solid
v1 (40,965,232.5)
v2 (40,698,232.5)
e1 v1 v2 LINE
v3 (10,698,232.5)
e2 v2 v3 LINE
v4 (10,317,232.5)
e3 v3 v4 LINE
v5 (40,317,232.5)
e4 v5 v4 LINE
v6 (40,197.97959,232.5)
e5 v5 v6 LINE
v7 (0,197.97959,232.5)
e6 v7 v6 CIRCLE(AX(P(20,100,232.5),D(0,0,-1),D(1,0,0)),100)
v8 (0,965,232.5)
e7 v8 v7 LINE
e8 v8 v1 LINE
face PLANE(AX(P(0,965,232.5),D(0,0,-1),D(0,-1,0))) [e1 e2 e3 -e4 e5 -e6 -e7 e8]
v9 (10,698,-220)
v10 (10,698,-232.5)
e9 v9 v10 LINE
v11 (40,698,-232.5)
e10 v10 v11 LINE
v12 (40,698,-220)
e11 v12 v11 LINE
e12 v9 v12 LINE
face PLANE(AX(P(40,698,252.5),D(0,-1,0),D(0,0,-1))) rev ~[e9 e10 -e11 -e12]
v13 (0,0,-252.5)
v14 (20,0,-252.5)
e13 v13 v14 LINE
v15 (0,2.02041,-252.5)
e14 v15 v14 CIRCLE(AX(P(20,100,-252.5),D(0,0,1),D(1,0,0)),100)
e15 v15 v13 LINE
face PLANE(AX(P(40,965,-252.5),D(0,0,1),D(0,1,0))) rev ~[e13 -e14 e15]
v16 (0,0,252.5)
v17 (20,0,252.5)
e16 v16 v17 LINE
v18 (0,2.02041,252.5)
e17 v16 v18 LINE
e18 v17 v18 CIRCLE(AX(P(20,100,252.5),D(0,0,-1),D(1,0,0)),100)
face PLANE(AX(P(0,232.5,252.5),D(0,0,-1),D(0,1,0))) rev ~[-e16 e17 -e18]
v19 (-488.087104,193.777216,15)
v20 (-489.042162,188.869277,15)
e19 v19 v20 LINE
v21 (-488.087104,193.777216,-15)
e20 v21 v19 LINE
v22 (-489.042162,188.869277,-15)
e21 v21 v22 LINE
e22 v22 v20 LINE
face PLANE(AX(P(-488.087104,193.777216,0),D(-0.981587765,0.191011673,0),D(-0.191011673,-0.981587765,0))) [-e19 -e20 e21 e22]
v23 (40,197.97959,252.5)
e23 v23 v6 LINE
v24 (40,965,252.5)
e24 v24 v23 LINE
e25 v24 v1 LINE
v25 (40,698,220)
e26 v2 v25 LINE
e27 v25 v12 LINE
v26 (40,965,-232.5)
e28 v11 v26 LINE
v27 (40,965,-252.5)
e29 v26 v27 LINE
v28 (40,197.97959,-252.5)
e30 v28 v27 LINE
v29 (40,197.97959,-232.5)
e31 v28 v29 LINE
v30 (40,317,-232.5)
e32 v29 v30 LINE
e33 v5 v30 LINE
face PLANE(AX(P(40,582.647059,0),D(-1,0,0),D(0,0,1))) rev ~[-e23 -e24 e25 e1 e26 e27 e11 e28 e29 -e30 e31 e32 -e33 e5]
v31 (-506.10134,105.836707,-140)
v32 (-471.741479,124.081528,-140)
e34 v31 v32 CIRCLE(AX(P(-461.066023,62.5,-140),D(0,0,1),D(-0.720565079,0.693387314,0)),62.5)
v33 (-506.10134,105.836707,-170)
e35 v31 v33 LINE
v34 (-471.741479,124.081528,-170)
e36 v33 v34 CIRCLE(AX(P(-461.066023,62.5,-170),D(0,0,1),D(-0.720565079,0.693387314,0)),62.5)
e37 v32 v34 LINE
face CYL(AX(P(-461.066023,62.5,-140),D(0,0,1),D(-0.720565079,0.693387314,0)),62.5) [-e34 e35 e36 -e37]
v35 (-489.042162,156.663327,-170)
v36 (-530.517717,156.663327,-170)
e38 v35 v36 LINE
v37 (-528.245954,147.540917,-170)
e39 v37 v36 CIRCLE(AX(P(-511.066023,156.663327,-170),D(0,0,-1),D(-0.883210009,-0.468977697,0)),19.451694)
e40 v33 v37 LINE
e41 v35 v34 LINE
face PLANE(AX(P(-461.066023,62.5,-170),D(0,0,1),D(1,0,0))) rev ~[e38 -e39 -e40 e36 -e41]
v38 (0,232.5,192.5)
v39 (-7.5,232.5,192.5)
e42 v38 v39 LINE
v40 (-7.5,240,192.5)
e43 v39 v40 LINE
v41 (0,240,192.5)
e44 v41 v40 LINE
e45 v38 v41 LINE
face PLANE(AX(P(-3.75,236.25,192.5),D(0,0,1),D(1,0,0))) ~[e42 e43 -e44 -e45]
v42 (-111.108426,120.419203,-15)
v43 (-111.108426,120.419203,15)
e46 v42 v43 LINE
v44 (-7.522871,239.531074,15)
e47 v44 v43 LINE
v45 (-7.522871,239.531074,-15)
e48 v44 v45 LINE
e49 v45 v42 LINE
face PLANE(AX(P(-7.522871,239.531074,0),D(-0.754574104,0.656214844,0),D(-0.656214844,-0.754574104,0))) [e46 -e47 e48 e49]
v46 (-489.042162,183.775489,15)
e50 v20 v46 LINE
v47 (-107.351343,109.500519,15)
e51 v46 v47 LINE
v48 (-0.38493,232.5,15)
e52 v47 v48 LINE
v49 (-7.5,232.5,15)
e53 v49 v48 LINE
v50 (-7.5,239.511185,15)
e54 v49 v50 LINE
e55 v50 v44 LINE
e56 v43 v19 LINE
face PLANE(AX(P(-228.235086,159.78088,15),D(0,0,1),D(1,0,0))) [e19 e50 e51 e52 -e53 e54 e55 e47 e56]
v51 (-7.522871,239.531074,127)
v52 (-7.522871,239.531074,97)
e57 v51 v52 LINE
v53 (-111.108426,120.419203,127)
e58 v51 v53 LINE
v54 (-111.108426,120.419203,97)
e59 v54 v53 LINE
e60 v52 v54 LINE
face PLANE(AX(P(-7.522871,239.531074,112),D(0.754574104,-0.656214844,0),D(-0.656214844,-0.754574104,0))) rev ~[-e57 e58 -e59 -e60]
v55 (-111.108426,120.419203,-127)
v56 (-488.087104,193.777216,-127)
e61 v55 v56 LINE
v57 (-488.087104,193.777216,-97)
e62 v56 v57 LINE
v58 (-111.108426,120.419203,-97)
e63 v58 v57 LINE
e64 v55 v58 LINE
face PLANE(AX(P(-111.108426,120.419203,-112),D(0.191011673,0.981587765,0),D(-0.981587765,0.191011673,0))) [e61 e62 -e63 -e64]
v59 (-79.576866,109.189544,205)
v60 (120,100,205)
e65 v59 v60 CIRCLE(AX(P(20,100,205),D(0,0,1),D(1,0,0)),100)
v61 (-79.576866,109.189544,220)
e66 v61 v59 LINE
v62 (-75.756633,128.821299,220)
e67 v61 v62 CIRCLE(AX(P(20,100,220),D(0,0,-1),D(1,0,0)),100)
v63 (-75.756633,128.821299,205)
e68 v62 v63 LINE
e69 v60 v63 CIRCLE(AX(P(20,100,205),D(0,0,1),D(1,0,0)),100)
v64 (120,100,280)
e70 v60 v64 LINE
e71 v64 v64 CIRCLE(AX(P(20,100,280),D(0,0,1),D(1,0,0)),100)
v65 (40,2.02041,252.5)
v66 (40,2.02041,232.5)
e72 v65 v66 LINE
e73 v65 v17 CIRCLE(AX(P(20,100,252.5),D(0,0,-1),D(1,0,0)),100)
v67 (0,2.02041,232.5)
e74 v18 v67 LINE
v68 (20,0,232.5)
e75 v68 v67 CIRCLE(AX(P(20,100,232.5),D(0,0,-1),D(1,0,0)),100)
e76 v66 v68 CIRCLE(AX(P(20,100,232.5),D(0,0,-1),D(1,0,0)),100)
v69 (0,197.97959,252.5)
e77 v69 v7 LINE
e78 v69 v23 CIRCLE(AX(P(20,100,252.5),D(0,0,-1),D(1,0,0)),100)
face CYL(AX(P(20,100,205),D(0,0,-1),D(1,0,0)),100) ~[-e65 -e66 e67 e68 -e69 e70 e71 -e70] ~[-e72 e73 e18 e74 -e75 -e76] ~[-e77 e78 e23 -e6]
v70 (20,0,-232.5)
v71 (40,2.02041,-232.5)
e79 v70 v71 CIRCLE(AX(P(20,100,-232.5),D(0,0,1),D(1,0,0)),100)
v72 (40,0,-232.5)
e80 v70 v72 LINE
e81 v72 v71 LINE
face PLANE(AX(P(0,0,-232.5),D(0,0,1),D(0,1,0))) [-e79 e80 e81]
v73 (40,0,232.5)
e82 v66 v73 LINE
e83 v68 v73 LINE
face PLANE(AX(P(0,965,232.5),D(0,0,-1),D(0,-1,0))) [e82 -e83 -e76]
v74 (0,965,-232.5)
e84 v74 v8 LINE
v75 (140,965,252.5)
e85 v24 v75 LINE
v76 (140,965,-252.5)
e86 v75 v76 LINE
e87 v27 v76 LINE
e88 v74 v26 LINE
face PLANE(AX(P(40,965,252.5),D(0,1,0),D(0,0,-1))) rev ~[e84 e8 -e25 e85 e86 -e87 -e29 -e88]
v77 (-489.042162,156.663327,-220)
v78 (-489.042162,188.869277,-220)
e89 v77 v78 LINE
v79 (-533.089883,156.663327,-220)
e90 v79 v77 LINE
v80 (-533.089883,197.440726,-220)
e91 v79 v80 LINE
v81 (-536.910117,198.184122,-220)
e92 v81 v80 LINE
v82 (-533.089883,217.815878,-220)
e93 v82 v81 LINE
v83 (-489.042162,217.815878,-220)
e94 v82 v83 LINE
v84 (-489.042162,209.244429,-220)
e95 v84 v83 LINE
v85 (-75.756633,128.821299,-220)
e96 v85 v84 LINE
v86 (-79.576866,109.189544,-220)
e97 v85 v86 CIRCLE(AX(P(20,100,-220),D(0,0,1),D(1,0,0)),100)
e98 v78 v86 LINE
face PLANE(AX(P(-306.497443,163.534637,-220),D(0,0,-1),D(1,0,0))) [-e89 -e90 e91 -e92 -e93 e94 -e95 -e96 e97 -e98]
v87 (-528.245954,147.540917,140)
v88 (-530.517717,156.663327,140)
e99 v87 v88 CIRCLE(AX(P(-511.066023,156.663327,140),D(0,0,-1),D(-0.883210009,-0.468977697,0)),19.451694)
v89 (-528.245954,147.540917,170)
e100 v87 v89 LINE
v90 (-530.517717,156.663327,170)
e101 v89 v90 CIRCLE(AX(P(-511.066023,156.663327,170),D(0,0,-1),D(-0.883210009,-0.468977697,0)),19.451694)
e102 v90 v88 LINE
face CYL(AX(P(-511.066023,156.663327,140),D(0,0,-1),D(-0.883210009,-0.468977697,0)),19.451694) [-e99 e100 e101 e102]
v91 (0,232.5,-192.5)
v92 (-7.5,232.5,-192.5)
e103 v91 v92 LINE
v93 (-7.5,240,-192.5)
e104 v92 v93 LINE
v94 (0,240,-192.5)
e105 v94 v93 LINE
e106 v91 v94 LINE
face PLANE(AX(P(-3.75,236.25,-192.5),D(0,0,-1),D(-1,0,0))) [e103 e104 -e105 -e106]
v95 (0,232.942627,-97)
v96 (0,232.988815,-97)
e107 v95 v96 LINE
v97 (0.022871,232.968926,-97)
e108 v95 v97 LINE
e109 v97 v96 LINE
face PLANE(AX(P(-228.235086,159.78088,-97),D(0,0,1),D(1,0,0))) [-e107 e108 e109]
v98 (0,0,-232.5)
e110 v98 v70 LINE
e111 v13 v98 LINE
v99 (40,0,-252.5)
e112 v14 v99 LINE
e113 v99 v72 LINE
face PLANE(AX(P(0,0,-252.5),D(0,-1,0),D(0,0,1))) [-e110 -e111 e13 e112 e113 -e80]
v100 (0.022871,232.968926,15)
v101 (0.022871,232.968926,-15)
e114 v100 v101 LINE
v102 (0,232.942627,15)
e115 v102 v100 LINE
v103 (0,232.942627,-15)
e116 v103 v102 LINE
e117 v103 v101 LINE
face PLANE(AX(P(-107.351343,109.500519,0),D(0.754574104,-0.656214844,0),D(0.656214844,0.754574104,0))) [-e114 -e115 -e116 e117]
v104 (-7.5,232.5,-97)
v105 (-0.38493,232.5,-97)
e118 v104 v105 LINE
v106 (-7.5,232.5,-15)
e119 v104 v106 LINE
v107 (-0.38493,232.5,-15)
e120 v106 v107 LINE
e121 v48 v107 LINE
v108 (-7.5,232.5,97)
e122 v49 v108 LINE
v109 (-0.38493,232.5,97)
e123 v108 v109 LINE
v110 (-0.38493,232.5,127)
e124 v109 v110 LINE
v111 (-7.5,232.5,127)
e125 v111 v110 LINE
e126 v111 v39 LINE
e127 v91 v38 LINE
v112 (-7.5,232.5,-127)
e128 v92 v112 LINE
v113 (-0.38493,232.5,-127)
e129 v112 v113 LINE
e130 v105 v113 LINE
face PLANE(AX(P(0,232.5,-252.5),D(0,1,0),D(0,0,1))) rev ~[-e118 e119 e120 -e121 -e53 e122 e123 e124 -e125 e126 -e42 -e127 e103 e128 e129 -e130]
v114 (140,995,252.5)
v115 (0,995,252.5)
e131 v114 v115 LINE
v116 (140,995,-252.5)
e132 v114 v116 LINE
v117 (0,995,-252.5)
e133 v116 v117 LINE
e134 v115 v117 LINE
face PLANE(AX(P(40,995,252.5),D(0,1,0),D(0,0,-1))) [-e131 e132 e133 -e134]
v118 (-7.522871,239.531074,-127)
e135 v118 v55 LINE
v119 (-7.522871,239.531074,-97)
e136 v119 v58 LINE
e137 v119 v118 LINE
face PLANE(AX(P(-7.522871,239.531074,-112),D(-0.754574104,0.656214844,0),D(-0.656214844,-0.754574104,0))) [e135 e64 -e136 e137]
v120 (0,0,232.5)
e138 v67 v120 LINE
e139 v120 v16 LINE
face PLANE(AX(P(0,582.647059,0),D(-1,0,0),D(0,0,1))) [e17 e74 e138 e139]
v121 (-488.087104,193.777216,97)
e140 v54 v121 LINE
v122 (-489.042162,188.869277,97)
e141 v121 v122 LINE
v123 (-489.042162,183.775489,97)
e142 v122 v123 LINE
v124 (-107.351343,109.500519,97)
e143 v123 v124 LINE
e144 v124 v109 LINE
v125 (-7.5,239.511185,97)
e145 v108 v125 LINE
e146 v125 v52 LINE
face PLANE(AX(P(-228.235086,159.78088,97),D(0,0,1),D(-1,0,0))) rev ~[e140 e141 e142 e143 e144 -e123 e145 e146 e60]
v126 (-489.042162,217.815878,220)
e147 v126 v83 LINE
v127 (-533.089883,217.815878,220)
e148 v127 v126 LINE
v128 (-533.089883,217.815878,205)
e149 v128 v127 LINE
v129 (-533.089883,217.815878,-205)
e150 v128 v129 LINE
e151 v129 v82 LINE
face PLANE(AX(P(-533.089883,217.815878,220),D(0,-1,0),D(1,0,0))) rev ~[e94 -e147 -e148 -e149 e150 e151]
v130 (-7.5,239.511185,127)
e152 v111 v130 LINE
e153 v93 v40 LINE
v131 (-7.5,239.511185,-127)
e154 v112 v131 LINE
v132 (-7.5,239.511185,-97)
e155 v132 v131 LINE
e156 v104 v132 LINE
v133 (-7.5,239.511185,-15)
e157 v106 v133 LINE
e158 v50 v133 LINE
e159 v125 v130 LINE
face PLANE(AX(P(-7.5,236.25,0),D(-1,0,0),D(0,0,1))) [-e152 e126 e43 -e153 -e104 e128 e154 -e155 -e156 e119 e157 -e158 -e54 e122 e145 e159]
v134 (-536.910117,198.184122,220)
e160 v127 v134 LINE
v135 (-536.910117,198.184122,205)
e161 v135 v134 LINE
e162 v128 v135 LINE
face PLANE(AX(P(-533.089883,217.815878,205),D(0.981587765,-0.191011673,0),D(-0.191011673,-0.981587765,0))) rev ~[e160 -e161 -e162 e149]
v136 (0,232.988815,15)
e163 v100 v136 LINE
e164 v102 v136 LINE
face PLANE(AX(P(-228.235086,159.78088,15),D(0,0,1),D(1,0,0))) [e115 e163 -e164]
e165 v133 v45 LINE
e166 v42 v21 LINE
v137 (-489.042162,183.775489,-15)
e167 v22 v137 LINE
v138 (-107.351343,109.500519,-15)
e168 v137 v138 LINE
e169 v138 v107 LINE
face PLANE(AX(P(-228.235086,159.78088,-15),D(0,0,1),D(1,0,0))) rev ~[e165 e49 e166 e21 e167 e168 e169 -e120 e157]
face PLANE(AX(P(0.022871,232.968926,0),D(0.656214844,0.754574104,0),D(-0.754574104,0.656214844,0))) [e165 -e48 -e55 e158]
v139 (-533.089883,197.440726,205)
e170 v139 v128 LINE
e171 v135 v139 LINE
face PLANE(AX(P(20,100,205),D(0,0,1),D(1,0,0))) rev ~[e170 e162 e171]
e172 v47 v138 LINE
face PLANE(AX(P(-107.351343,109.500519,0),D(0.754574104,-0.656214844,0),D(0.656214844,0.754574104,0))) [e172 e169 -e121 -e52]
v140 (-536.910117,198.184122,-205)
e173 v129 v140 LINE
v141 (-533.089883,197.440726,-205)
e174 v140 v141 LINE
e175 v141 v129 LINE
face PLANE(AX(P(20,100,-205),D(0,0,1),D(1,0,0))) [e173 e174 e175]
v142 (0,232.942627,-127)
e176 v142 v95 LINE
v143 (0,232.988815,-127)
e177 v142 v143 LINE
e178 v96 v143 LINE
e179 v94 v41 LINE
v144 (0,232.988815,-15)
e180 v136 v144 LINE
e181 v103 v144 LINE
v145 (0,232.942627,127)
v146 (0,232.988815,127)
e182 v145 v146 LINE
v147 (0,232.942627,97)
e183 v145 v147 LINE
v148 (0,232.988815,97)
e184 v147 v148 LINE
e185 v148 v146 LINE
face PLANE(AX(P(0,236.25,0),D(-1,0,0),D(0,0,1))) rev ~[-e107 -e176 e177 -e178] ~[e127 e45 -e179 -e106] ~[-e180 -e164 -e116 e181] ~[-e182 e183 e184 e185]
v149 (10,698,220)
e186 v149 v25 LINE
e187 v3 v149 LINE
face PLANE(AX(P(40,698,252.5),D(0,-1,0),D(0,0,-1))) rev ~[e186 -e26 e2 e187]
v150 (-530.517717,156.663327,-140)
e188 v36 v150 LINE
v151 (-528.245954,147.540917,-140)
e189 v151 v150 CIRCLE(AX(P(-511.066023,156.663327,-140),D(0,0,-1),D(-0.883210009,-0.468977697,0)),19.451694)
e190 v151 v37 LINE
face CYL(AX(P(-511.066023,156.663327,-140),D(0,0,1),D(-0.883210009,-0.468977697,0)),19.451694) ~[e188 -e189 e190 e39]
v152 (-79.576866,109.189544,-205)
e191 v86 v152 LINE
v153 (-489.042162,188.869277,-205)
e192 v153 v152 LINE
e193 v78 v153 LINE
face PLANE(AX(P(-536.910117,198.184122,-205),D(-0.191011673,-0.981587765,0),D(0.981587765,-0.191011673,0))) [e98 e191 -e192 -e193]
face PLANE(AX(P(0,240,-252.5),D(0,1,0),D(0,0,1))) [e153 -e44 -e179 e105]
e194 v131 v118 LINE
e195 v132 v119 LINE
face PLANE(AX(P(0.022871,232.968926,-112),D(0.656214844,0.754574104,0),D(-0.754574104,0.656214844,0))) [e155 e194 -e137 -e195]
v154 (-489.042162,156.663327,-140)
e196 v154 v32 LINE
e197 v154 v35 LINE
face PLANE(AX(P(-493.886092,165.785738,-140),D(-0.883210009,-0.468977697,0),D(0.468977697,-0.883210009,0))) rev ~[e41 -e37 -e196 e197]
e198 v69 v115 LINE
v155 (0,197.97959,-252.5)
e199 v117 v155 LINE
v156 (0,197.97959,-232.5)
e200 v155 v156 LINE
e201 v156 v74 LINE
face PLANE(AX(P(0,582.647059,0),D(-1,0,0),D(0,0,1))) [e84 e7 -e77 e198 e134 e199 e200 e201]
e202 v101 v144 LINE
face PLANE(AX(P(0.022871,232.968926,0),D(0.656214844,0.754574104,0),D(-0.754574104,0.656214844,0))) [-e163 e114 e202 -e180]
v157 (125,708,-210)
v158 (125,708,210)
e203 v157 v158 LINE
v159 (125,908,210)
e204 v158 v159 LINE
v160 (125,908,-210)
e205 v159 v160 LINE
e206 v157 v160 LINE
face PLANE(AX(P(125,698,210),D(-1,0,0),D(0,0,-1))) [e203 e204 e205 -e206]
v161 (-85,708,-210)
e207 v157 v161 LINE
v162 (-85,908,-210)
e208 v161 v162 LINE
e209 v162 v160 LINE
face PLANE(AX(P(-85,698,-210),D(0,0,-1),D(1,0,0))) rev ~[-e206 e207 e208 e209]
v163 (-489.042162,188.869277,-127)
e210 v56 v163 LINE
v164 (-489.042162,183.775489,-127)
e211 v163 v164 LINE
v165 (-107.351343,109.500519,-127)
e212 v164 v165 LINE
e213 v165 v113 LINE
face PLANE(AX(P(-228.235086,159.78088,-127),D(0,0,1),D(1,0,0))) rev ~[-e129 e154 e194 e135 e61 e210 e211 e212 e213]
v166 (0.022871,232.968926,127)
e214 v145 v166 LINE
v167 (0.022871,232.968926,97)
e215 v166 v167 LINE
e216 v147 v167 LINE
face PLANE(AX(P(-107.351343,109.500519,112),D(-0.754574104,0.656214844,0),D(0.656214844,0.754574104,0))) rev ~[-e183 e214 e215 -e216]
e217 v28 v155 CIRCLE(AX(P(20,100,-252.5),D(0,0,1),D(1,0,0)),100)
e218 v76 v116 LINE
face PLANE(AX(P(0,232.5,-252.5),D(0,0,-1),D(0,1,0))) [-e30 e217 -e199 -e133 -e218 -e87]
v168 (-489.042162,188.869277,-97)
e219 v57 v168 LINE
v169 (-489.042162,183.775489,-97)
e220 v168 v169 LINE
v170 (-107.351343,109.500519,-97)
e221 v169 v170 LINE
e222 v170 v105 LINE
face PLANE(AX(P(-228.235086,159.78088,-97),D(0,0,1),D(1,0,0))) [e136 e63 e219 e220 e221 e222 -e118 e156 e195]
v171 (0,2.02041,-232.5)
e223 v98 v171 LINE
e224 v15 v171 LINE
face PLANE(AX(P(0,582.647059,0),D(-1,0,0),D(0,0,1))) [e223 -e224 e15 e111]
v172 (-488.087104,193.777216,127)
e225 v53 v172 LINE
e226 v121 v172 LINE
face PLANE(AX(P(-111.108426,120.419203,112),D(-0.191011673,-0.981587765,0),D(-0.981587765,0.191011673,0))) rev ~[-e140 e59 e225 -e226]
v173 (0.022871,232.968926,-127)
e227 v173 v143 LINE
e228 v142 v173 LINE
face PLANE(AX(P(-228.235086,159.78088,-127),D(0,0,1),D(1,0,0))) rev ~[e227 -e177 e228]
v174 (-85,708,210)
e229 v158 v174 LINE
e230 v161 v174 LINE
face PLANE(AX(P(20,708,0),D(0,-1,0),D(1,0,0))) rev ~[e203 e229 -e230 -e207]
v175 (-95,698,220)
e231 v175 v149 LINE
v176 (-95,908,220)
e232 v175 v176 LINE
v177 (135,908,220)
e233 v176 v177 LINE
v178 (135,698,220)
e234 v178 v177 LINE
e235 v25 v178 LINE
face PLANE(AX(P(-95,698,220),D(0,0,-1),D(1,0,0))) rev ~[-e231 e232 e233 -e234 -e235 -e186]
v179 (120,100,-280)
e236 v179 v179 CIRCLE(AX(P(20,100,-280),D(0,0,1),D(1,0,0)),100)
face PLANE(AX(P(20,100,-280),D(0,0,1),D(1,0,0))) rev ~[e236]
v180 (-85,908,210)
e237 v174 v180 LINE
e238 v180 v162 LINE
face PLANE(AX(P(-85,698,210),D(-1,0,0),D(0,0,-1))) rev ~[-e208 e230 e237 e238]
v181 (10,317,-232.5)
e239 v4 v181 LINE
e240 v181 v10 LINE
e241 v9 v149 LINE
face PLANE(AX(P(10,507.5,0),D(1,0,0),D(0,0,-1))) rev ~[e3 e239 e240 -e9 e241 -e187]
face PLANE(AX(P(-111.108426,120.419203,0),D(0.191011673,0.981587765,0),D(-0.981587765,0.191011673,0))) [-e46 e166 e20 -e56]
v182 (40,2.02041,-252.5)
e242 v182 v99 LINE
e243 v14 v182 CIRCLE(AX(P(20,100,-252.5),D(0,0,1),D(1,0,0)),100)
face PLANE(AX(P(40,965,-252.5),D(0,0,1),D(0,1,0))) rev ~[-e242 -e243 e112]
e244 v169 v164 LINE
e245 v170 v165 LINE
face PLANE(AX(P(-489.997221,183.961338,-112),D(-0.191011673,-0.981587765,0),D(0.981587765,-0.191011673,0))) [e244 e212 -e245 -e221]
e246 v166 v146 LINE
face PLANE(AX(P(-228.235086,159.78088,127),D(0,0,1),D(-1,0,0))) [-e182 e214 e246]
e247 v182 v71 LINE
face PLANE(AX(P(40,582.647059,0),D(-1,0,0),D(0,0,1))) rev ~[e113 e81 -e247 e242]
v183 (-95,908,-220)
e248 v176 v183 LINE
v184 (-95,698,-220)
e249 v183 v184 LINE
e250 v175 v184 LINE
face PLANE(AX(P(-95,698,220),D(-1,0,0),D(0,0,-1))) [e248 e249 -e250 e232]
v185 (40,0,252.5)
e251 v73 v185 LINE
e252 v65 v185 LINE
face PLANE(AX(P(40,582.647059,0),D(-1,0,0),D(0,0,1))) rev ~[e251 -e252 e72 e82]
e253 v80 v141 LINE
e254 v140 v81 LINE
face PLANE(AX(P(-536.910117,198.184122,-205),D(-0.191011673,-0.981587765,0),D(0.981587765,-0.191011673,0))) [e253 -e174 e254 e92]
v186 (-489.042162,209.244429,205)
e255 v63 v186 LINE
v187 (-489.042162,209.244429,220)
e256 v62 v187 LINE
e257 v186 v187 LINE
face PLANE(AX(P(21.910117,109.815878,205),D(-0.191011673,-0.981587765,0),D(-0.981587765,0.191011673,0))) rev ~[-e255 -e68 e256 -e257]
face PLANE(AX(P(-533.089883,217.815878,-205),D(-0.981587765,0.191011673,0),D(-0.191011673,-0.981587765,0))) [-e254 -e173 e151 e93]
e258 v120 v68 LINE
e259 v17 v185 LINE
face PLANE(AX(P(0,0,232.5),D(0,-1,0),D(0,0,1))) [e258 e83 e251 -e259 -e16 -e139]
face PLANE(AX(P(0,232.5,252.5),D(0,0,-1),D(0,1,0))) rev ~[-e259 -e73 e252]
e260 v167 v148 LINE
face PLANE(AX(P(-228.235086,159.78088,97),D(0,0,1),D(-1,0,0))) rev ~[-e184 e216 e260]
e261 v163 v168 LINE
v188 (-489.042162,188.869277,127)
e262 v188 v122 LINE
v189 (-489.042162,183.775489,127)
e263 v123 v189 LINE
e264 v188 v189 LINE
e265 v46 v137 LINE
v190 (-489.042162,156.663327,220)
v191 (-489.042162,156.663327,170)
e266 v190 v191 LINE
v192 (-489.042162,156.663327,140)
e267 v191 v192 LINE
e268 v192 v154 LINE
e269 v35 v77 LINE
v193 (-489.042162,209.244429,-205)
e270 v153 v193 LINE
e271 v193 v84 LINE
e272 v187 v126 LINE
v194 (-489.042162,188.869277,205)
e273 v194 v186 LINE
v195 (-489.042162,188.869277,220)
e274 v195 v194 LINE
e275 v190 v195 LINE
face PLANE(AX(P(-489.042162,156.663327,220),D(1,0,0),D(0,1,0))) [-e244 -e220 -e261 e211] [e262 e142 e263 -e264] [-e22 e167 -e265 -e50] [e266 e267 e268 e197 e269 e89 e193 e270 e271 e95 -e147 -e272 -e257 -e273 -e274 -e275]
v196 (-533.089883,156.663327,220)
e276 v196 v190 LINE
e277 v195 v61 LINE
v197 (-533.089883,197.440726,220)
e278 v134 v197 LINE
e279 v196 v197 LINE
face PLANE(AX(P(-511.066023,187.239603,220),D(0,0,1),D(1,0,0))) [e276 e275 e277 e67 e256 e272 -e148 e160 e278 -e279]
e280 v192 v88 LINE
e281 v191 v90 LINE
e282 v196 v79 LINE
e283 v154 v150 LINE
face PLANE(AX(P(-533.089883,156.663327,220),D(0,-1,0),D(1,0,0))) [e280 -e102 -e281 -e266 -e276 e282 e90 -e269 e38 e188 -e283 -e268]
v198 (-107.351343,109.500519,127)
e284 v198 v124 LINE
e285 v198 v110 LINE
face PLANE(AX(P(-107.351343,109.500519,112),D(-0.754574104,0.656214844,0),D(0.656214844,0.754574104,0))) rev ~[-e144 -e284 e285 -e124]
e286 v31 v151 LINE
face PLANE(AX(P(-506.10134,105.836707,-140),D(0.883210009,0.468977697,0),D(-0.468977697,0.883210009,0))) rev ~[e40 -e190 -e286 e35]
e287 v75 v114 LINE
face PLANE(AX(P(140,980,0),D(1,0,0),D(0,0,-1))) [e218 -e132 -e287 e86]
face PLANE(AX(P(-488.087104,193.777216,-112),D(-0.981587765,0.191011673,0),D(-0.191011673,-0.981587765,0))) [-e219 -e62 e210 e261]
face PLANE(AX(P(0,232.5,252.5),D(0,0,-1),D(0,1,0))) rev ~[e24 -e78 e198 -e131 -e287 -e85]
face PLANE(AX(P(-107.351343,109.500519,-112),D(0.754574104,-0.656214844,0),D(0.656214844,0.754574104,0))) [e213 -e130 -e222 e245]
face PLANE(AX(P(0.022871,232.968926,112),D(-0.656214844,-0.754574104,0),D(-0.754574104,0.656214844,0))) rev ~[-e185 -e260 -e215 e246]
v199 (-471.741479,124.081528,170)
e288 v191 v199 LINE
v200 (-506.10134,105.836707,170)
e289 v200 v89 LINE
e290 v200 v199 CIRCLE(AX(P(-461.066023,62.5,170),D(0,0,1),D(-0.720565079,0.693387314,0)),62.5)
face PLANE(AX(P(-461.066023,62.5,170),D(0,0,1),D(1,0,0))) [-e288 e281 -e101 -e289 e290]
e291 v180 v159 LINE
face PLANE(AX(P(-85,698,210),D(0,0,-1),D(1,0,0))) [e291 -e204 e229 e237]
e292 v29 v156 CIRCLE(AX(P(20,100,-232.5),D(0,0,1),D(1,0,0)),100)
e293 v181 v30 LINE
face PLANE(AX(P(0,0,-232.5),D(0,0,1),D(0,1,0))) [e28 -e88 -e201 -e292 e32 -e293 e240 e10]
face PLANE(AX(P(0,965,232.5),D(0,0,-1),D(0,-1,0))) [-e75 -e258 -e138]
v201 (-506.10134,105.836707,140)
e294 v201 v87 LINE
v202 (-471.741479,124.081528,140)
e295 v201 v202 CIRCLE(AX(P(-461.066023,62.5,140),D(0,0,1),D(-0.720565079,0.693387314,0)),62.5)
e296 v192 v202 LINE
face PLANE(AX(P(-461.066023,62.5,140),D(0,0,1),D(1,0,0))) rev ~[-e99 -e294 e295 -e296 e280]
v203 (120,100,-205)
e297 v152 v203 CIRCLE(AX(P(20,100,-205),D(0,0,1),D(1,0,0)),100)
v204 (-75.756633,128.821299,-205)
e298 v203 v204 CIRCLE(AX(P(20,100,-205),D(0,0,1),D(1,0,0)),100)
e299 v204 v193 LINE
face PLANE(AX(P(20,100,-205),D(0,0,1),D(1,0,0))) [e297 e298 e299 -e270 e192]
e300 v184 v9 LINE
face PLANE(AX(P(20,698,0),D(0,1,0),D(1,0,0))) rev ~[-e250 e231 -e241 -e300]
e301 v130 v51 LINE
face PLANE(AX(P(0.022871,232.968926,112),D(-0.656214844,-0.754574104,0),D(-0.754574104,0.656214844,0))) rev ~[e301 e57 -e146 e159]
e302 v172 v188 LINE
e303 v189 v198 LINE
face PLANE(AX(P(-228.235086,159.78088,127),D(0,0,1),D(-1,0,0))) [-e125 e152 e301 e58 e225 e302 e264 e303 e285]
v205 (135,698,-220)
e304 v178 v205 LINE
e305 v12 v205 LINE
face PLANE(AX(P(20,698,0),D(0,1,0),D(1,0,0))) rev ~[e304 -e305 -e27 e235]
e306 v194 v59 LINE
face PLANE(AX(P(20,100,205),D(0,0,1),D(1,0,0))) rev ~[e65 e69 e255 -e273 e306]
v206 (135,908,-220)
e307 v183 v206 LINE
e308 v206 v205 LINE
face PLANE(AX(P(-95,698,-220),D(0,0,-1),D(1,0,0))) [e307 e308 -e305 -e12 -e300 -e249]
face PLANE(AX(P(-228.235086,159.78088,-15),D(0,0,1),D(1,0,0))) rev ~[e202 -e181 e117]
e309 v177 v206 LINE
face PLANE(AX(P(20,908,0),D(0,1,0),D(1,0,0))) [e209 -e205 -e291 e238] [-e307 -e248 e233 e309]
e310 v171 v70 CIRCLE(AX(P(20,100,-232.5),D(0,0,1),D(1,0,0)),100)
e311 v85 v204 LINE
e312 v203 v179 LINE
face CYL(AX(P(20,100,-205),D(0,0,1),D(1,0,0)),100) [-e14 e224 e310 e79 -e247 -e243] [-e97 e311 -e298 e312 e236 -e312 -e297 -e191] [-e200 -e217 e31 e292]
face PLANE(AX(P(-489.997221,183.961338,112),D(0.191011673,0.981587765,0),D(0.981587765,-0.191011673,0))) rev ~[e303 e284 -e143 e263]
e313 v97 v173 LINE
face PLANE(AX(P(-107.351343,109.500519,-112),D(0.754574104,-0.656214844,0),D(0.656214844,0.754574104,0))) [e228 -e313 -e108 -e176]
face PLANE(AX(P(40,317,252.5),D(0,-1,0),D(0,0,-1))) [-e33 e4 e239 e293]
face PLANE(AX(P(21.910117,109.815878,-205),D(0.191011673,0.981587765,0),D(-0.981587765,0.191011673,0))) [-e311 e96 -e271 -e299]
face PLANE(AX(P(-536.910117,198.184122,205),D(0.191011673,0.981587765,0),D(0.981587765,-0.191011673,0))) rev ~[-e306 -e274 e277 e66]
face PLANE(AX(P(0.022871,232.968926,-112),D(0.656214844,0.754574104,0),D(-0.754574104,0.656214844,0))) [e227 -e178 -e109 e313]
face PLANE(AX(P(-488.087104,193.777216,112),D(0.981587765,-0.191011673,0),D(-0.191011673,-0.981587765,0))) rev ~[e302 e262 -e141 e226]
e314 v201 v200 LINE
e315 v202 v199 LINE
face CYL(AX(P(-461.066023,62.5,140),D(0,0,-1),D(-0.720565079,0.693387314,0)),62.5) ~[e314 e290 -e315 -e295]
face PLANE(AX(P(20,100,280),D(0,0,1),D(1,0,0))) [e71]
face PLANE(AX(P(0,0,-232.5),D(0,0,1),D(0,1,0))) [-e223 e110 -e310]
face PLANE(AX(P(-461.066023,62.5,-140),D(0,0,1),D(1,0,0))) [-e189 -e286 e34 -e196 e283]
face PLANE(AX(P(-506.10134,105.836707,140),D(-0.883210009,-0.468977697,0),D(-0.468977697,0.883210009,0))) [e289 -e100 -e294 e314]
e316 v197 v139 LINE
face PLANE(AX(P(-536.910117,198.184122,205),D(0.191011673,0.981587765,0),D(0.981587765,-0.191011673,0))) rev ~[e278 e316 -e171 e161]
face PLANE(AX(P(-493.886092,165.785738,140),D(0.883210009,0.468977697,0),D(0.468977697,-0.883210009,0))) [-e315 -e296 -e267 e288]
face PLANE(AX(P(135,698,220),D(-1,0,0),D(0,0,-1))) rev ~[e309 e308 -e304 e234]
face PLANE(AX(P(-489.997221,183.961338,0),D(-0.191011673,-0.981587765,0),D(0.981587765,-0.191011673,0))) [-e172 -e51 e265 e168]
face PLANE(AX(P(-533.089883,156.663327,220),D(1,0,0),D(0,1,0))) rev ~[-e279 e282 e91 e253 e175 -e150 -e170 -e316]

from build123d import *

# Parameters (mm, degrees)
BOSS_EXTRUDE1_DEPTH  = 40
SKETCH3_W            = 505
SKETCH3_H            = 30
BOSS_EXTRUDE2_DEPTH  = 100
BOSS_EXTRUDE3_START  = 205
SKETCH5_R            = 100
BOSS_EXTRUDE3_DEPTH  = 75
BOSS_EXTRUDE4_START  = -205
SKETCH5_2_R          = 100
BOSS_EXTRUDE4_DEPTH  = 75
SKETCH7_W            = 505
SKETCH7_H            = 381
BOSS_EXTRUDE5_DEPTH  = 30
SKETCH8_W            = 230
SKETCH8_H            = 440
SKETCH8_W_2          = 210
SKETCH8_H_2          = 420
EXTRUDE_THIN1_DEPTH  = 210
SKETCH9_W            = 230
SKETCH9_H            = 440
BOSS_EXTRUDE6_DEPTH  = 10
SKETCH10_W           = 505
SKETCH10_H           = 7.5
BOSS_EXTRUDE7_DEPTH  = 7.5
BOSS_EXTRUDE8_START  = 205
BOSS_EXTRUDE8_DEPTH  = 15
BOSS_EXTRUDE9_START  = -205
BOSS_EXTRUDE9_DEPTH  = 15
BOSS_EXTRUDE10_REACH = 1238.243
SKETCH12_W           = 44.047720934
SKETCH12_H           = 61.152550191
BOSS_EXTRUDE11_START = 140
SKETCH13_R           = 62.5
BOSS_EXTRUDE11_DEPTH = 30
BOSS_EXTRUDE12_START = -140
SKETCH13_4_R         = 62.5
BOSS_EXTRUDE12_DEPTH = 30
EXTRUDE_THIN5_DEPTH  = 15
LPATTERN1_COUNT      = 2
LPATTERN1_PITCH      = 112
SKETCH15_W           = 7.5
SKETCH15_H           = 7.5
CUT_EXTRUDE1_DEPTH   = 60
MIRROR1_COPY_1_DEPTH = 15
MIRROR1_COPY_2_DEPTH = 15


with BuildPart() as part:
    # Sketch1 → Boss-Extrude1 (new body)
    with BuildSketch(Plane(origin=(0, 0, 0), x_dir=(0, 0, -1), z_dir=(1, 0, 0))):
        Polygon((-232.5, 0), (-252.5, 0), (-252.5, 995), (252.5, 995), (252.5, 0), (232.5, 0), (232.5, 965), (-232.5, 965), align=None)
    extrude(amount=BOSS_EXTRUDE1_DEPTH)

    # Sketch3 → Boss-Extrude2 (add)
    with BuildSketch(Plane(origin=(40, 0, 0), x_dir=(0, 0, -1), z_dir=(1, 0, 0))):
        with Locations((0, 980)):
            Rectangle(SKETCH3_W, SKETCH3_H)
    extrude(amount=BOSS_EXTRUDE2_DEPTH)

    # Sketch5<2> → Boss-Extrude4 (add)
    with BuildSketch(Plane.XY.offset(BOSS_EXTRUDE4_START)):
        with Locations((20, 100)):
            Circle(SKETCH5_2_R)
    extrude(amount=-BOSS_EXTRUDE4_DEPTH)

    # Sketch7 → Boss-Extrude5 (add)
    with BuildSketch(Plane(origin=(40, 0, 0), x_dir=(0, 0, -1), z_dir=(1, 0, 0))):
        with Locations((0, 507.5)):
            Rectangle(SKETCH7_W, SKETCH7_H)
    extrude(amount=-BOSS_EXTRUDE5_DEPTH)

    # Sketch8 → Extrude-Thin1 (add)
    with BuildSketch(Plane(origin=(0, 698, 0), x_dir=(1, 0, 0), z_dir=(0, 1, 0))):
        with Locations((20, 0)):
            Rectangle(SKETCH8_W, SKETCH8_H)
        with Locations((20, 0)):
            Rectangle(SKETCH8_W_2, SKETCH8_H_2, mode=Mode.SUBTRACT)
    extrude(amount=EXTRUDE_THIN1_DEPTH)

    # Sketch9 → Boss-Extrude6 (add)
    with BuildSketch(Plane.XZ.offset(-698)):
        with Locations((20, 0)):
            Rectangle(SKETCH9_W, SKETCH9_H)
    extrude(amount=-BOSS_EXTRUDE6_DEPTH)

    # Sketch10 → Boss-Extrude7 (add)
    with BuildSketch(Plane.ZY):
        with Locations((0, 236.25)):
            Rectangle(SKETCH10_W, SKETCH10_H)
    extrude(amount=BOSS_EXTRUDE7_DEPTH)


with BuildPart() as body_2:
    # Sketch5 → Boss-Extrude3 (new body)
    with BuildSketch(Plane.XY.offset(BOSS_EXTRUDE3_START)):
        with Locations((20, 100)):
            Circle(SKETCH5_R)
    extrude(amount=BOSS_EXTRUDE3_DEPTH)


    add(part.part)  # Boss-Extrude8 merges part
    # Sketch11 → Boss-Extrude8 (add)
    with BuildSketch(Plane.XY.offset(BOSS_EXTRUDE8_START)):
        Polygon((21.910116732, 109.815877652), (-533.089883268, 217.815877652), (-536.910116732, 198.184122348), (18.089883268, 90.184122348), align=None)
    extrude(amount=BOSS_EXTRUDE8_DEPTH)

    # Sketch11<2> → Boss-Extrude9 (add)
    with BuildSketch(Plane.XY.offset(BOSS_EXTRUDE9_START)):
        Polygon((21.910116732, 109.815877652), (-533.089883268, 217.815877652), (-536.910116732, 198.184122348), (18.089883268, 90.184122348), align=None)
    extrude(amount=-BOSS_EXTRUDE9_DEPTH)

    # Boss-Extrude10: up to this face of the body (flat: up to its plane)
    boss_extrude10_end = Plane(body_2.part.faces().sort_by_distance((-306.497442612, 163.534637481, -220))[0])
    # Sketch12 → Boss-Extrude10 (add, up to the picked face)
    with BuildSketch(Plane.XY.offset(220), mode=Mode.PRIVATE) as boss_extrude10_sk1:
        with Locations((-511.066022801, 187.239602557)):
            Rectangle(SKETCH12_W, SKETCH12_H)
    boss_extrude10_tool1 = split(extrude(boss_extrude10_sk1.sketch, amount=-BOSS_EXTRUDE10_REACH, mode=Mode.PRIVATE), bisect_by=boss_extrude10_end, keep=Keep.BOTH, mode=Mode.PRIVATE)
    add(boss_extrude10_tool1.solids().sort_by(Axis((-511.066023, 187.239603, 220), (0, 0, -1)))[0])

    # Sketch13 → Boss-Extrude11 (add)
    with BuildSketch(Plane.XY.offset(BOSS_EXTRUDE11_START)):
        with Locations((-461.066022801, 62.5)):
            Circle(SKETCH13_R)
        with BuildLine():
            Line((-493.886091971, 165.785738113), (-443.886091971, 71.622410652))
            ThreePointArc((-443.886091971, 71.622410652), (-451.943612148, 45.32006917), (-478.245953631, 53.377589348))
            Line((-478.245953631, 53.377589348), (-528.245953631, 147.540916809))
            ThreePointArc((-528.245953631, 147.540916809), (-520.188433453, 173.843258291), (-493.886091971, 165.785738113))
        make_face()
    extrude(amount=BOSS_EXTRUDE11_DEPTH)

    # Sketch13<4> → Boss-Extrude12 (add)
    with BuildSketch(Plane.XY.offset(BOSS_EXTRUDE12_START)):
        with Locations((-461.066022801, 62.5)):
            Circle(SKETCH13_4_R)
        with BuildLine():
            Line((-493.886091971, 165.785738113), (-443.886091971, 71.622410652))
            ThreePointArc((-443.886091971, 71.622410652), (-451.943612148, 45.32006917), (-478.245953631, 53.377589348))
            Line((-478.245953631, 53.377589348), (-528.245953631, 147.540916809))
            ThreePointArc((-528.245953631, 147.540916809), (-520.188433453, 173.843258291), (-493.886091971, 165.785738113))
        make_face()
    extrude(amount=-BOSS_EXTRUDE12_DEPTH)

    # Sketch14 → Extrude-Thin5 (add, symmetric)
    with BuildSketch(Plane.XY):
        Polygon((-7.52287052, 239.53107422), (-111.10842632, 120.419203046), (-488.087103968, 193.777215994), (-489.9972207, 183.961338343), (-107.351343448, 109.500518985), (0.02287052, 232.96892578), align=None)
    extrude_thin5 = extrude(amount=EXTRUDE_THIN5_DEPTH, both=True)

    # LPattern1: Extrude-Thin5 ×2
    with Locations(*[(0, 0, -i * LPATTERN1_PITCH) for i in range(1, LPATTERN1_COUNT)]):
        add(extrude_thin5)

    # Sketch15 → Cut-Extrude1 (cut)
    with BuildSketch(Plane(origin=(0, 0, -252.5), x_dir=(-1, 0, 0), z_dir=(0, 0, -1))):
        with Locations((3.75, 236.25)):
            Rectangle(SKETCH15_W, SKETCH15_H)
    cut_extrude1 = extrude(amount=-CUT_EXTRUDE1_DEPTH, mode=Mode.SUBTRACT)

    # Mirror1: Cut-Extrude1 across plane
    add(cut_extrude1.mirror(Plane.XY), mode=Mode.SUBTRACT)

    # Mirror1 copy 1 sketch → Mirror1 copy 1 (add, symmetric)
    with BuildSketch(Plane(origin=(0, 0, 112), x_dir=(1, 0, 0), z_dir=(0, 0, -1))):
        Polygon((-7.52287052, -239.53107422), (-111.10842632, -120.419203046), (-488.087103968, -193.777215994), (-489.9972207, -183.961338343), (-107.351343448, -109.500518985), (0.02287052, -232.96892578), align=None)
    extrude(amount=MIRROR1_COPY_1_DEPTH, both=True)

    # Mirror1 copy 2 sketch → Mirror1 copy 2 (add, symmetric)
    with BuildSketch(Plane(origin=(0, 0, 0), x_dir=(1, 0, 0), z_dir=(0, 0, -1))):
        Polygon((-7.52287052, -239.53107422), (-111.10842632, -120.419203046), (-488.087103968, -193.777215994), (-489.9972207, -183.961338343), (-107.351343448, -109.500518985), (0.02287052, -232.96892578), align=None)
    extrude(amount=MIRROR1_COPY_2_DEPTH, both=True)


solid = body_2.part
